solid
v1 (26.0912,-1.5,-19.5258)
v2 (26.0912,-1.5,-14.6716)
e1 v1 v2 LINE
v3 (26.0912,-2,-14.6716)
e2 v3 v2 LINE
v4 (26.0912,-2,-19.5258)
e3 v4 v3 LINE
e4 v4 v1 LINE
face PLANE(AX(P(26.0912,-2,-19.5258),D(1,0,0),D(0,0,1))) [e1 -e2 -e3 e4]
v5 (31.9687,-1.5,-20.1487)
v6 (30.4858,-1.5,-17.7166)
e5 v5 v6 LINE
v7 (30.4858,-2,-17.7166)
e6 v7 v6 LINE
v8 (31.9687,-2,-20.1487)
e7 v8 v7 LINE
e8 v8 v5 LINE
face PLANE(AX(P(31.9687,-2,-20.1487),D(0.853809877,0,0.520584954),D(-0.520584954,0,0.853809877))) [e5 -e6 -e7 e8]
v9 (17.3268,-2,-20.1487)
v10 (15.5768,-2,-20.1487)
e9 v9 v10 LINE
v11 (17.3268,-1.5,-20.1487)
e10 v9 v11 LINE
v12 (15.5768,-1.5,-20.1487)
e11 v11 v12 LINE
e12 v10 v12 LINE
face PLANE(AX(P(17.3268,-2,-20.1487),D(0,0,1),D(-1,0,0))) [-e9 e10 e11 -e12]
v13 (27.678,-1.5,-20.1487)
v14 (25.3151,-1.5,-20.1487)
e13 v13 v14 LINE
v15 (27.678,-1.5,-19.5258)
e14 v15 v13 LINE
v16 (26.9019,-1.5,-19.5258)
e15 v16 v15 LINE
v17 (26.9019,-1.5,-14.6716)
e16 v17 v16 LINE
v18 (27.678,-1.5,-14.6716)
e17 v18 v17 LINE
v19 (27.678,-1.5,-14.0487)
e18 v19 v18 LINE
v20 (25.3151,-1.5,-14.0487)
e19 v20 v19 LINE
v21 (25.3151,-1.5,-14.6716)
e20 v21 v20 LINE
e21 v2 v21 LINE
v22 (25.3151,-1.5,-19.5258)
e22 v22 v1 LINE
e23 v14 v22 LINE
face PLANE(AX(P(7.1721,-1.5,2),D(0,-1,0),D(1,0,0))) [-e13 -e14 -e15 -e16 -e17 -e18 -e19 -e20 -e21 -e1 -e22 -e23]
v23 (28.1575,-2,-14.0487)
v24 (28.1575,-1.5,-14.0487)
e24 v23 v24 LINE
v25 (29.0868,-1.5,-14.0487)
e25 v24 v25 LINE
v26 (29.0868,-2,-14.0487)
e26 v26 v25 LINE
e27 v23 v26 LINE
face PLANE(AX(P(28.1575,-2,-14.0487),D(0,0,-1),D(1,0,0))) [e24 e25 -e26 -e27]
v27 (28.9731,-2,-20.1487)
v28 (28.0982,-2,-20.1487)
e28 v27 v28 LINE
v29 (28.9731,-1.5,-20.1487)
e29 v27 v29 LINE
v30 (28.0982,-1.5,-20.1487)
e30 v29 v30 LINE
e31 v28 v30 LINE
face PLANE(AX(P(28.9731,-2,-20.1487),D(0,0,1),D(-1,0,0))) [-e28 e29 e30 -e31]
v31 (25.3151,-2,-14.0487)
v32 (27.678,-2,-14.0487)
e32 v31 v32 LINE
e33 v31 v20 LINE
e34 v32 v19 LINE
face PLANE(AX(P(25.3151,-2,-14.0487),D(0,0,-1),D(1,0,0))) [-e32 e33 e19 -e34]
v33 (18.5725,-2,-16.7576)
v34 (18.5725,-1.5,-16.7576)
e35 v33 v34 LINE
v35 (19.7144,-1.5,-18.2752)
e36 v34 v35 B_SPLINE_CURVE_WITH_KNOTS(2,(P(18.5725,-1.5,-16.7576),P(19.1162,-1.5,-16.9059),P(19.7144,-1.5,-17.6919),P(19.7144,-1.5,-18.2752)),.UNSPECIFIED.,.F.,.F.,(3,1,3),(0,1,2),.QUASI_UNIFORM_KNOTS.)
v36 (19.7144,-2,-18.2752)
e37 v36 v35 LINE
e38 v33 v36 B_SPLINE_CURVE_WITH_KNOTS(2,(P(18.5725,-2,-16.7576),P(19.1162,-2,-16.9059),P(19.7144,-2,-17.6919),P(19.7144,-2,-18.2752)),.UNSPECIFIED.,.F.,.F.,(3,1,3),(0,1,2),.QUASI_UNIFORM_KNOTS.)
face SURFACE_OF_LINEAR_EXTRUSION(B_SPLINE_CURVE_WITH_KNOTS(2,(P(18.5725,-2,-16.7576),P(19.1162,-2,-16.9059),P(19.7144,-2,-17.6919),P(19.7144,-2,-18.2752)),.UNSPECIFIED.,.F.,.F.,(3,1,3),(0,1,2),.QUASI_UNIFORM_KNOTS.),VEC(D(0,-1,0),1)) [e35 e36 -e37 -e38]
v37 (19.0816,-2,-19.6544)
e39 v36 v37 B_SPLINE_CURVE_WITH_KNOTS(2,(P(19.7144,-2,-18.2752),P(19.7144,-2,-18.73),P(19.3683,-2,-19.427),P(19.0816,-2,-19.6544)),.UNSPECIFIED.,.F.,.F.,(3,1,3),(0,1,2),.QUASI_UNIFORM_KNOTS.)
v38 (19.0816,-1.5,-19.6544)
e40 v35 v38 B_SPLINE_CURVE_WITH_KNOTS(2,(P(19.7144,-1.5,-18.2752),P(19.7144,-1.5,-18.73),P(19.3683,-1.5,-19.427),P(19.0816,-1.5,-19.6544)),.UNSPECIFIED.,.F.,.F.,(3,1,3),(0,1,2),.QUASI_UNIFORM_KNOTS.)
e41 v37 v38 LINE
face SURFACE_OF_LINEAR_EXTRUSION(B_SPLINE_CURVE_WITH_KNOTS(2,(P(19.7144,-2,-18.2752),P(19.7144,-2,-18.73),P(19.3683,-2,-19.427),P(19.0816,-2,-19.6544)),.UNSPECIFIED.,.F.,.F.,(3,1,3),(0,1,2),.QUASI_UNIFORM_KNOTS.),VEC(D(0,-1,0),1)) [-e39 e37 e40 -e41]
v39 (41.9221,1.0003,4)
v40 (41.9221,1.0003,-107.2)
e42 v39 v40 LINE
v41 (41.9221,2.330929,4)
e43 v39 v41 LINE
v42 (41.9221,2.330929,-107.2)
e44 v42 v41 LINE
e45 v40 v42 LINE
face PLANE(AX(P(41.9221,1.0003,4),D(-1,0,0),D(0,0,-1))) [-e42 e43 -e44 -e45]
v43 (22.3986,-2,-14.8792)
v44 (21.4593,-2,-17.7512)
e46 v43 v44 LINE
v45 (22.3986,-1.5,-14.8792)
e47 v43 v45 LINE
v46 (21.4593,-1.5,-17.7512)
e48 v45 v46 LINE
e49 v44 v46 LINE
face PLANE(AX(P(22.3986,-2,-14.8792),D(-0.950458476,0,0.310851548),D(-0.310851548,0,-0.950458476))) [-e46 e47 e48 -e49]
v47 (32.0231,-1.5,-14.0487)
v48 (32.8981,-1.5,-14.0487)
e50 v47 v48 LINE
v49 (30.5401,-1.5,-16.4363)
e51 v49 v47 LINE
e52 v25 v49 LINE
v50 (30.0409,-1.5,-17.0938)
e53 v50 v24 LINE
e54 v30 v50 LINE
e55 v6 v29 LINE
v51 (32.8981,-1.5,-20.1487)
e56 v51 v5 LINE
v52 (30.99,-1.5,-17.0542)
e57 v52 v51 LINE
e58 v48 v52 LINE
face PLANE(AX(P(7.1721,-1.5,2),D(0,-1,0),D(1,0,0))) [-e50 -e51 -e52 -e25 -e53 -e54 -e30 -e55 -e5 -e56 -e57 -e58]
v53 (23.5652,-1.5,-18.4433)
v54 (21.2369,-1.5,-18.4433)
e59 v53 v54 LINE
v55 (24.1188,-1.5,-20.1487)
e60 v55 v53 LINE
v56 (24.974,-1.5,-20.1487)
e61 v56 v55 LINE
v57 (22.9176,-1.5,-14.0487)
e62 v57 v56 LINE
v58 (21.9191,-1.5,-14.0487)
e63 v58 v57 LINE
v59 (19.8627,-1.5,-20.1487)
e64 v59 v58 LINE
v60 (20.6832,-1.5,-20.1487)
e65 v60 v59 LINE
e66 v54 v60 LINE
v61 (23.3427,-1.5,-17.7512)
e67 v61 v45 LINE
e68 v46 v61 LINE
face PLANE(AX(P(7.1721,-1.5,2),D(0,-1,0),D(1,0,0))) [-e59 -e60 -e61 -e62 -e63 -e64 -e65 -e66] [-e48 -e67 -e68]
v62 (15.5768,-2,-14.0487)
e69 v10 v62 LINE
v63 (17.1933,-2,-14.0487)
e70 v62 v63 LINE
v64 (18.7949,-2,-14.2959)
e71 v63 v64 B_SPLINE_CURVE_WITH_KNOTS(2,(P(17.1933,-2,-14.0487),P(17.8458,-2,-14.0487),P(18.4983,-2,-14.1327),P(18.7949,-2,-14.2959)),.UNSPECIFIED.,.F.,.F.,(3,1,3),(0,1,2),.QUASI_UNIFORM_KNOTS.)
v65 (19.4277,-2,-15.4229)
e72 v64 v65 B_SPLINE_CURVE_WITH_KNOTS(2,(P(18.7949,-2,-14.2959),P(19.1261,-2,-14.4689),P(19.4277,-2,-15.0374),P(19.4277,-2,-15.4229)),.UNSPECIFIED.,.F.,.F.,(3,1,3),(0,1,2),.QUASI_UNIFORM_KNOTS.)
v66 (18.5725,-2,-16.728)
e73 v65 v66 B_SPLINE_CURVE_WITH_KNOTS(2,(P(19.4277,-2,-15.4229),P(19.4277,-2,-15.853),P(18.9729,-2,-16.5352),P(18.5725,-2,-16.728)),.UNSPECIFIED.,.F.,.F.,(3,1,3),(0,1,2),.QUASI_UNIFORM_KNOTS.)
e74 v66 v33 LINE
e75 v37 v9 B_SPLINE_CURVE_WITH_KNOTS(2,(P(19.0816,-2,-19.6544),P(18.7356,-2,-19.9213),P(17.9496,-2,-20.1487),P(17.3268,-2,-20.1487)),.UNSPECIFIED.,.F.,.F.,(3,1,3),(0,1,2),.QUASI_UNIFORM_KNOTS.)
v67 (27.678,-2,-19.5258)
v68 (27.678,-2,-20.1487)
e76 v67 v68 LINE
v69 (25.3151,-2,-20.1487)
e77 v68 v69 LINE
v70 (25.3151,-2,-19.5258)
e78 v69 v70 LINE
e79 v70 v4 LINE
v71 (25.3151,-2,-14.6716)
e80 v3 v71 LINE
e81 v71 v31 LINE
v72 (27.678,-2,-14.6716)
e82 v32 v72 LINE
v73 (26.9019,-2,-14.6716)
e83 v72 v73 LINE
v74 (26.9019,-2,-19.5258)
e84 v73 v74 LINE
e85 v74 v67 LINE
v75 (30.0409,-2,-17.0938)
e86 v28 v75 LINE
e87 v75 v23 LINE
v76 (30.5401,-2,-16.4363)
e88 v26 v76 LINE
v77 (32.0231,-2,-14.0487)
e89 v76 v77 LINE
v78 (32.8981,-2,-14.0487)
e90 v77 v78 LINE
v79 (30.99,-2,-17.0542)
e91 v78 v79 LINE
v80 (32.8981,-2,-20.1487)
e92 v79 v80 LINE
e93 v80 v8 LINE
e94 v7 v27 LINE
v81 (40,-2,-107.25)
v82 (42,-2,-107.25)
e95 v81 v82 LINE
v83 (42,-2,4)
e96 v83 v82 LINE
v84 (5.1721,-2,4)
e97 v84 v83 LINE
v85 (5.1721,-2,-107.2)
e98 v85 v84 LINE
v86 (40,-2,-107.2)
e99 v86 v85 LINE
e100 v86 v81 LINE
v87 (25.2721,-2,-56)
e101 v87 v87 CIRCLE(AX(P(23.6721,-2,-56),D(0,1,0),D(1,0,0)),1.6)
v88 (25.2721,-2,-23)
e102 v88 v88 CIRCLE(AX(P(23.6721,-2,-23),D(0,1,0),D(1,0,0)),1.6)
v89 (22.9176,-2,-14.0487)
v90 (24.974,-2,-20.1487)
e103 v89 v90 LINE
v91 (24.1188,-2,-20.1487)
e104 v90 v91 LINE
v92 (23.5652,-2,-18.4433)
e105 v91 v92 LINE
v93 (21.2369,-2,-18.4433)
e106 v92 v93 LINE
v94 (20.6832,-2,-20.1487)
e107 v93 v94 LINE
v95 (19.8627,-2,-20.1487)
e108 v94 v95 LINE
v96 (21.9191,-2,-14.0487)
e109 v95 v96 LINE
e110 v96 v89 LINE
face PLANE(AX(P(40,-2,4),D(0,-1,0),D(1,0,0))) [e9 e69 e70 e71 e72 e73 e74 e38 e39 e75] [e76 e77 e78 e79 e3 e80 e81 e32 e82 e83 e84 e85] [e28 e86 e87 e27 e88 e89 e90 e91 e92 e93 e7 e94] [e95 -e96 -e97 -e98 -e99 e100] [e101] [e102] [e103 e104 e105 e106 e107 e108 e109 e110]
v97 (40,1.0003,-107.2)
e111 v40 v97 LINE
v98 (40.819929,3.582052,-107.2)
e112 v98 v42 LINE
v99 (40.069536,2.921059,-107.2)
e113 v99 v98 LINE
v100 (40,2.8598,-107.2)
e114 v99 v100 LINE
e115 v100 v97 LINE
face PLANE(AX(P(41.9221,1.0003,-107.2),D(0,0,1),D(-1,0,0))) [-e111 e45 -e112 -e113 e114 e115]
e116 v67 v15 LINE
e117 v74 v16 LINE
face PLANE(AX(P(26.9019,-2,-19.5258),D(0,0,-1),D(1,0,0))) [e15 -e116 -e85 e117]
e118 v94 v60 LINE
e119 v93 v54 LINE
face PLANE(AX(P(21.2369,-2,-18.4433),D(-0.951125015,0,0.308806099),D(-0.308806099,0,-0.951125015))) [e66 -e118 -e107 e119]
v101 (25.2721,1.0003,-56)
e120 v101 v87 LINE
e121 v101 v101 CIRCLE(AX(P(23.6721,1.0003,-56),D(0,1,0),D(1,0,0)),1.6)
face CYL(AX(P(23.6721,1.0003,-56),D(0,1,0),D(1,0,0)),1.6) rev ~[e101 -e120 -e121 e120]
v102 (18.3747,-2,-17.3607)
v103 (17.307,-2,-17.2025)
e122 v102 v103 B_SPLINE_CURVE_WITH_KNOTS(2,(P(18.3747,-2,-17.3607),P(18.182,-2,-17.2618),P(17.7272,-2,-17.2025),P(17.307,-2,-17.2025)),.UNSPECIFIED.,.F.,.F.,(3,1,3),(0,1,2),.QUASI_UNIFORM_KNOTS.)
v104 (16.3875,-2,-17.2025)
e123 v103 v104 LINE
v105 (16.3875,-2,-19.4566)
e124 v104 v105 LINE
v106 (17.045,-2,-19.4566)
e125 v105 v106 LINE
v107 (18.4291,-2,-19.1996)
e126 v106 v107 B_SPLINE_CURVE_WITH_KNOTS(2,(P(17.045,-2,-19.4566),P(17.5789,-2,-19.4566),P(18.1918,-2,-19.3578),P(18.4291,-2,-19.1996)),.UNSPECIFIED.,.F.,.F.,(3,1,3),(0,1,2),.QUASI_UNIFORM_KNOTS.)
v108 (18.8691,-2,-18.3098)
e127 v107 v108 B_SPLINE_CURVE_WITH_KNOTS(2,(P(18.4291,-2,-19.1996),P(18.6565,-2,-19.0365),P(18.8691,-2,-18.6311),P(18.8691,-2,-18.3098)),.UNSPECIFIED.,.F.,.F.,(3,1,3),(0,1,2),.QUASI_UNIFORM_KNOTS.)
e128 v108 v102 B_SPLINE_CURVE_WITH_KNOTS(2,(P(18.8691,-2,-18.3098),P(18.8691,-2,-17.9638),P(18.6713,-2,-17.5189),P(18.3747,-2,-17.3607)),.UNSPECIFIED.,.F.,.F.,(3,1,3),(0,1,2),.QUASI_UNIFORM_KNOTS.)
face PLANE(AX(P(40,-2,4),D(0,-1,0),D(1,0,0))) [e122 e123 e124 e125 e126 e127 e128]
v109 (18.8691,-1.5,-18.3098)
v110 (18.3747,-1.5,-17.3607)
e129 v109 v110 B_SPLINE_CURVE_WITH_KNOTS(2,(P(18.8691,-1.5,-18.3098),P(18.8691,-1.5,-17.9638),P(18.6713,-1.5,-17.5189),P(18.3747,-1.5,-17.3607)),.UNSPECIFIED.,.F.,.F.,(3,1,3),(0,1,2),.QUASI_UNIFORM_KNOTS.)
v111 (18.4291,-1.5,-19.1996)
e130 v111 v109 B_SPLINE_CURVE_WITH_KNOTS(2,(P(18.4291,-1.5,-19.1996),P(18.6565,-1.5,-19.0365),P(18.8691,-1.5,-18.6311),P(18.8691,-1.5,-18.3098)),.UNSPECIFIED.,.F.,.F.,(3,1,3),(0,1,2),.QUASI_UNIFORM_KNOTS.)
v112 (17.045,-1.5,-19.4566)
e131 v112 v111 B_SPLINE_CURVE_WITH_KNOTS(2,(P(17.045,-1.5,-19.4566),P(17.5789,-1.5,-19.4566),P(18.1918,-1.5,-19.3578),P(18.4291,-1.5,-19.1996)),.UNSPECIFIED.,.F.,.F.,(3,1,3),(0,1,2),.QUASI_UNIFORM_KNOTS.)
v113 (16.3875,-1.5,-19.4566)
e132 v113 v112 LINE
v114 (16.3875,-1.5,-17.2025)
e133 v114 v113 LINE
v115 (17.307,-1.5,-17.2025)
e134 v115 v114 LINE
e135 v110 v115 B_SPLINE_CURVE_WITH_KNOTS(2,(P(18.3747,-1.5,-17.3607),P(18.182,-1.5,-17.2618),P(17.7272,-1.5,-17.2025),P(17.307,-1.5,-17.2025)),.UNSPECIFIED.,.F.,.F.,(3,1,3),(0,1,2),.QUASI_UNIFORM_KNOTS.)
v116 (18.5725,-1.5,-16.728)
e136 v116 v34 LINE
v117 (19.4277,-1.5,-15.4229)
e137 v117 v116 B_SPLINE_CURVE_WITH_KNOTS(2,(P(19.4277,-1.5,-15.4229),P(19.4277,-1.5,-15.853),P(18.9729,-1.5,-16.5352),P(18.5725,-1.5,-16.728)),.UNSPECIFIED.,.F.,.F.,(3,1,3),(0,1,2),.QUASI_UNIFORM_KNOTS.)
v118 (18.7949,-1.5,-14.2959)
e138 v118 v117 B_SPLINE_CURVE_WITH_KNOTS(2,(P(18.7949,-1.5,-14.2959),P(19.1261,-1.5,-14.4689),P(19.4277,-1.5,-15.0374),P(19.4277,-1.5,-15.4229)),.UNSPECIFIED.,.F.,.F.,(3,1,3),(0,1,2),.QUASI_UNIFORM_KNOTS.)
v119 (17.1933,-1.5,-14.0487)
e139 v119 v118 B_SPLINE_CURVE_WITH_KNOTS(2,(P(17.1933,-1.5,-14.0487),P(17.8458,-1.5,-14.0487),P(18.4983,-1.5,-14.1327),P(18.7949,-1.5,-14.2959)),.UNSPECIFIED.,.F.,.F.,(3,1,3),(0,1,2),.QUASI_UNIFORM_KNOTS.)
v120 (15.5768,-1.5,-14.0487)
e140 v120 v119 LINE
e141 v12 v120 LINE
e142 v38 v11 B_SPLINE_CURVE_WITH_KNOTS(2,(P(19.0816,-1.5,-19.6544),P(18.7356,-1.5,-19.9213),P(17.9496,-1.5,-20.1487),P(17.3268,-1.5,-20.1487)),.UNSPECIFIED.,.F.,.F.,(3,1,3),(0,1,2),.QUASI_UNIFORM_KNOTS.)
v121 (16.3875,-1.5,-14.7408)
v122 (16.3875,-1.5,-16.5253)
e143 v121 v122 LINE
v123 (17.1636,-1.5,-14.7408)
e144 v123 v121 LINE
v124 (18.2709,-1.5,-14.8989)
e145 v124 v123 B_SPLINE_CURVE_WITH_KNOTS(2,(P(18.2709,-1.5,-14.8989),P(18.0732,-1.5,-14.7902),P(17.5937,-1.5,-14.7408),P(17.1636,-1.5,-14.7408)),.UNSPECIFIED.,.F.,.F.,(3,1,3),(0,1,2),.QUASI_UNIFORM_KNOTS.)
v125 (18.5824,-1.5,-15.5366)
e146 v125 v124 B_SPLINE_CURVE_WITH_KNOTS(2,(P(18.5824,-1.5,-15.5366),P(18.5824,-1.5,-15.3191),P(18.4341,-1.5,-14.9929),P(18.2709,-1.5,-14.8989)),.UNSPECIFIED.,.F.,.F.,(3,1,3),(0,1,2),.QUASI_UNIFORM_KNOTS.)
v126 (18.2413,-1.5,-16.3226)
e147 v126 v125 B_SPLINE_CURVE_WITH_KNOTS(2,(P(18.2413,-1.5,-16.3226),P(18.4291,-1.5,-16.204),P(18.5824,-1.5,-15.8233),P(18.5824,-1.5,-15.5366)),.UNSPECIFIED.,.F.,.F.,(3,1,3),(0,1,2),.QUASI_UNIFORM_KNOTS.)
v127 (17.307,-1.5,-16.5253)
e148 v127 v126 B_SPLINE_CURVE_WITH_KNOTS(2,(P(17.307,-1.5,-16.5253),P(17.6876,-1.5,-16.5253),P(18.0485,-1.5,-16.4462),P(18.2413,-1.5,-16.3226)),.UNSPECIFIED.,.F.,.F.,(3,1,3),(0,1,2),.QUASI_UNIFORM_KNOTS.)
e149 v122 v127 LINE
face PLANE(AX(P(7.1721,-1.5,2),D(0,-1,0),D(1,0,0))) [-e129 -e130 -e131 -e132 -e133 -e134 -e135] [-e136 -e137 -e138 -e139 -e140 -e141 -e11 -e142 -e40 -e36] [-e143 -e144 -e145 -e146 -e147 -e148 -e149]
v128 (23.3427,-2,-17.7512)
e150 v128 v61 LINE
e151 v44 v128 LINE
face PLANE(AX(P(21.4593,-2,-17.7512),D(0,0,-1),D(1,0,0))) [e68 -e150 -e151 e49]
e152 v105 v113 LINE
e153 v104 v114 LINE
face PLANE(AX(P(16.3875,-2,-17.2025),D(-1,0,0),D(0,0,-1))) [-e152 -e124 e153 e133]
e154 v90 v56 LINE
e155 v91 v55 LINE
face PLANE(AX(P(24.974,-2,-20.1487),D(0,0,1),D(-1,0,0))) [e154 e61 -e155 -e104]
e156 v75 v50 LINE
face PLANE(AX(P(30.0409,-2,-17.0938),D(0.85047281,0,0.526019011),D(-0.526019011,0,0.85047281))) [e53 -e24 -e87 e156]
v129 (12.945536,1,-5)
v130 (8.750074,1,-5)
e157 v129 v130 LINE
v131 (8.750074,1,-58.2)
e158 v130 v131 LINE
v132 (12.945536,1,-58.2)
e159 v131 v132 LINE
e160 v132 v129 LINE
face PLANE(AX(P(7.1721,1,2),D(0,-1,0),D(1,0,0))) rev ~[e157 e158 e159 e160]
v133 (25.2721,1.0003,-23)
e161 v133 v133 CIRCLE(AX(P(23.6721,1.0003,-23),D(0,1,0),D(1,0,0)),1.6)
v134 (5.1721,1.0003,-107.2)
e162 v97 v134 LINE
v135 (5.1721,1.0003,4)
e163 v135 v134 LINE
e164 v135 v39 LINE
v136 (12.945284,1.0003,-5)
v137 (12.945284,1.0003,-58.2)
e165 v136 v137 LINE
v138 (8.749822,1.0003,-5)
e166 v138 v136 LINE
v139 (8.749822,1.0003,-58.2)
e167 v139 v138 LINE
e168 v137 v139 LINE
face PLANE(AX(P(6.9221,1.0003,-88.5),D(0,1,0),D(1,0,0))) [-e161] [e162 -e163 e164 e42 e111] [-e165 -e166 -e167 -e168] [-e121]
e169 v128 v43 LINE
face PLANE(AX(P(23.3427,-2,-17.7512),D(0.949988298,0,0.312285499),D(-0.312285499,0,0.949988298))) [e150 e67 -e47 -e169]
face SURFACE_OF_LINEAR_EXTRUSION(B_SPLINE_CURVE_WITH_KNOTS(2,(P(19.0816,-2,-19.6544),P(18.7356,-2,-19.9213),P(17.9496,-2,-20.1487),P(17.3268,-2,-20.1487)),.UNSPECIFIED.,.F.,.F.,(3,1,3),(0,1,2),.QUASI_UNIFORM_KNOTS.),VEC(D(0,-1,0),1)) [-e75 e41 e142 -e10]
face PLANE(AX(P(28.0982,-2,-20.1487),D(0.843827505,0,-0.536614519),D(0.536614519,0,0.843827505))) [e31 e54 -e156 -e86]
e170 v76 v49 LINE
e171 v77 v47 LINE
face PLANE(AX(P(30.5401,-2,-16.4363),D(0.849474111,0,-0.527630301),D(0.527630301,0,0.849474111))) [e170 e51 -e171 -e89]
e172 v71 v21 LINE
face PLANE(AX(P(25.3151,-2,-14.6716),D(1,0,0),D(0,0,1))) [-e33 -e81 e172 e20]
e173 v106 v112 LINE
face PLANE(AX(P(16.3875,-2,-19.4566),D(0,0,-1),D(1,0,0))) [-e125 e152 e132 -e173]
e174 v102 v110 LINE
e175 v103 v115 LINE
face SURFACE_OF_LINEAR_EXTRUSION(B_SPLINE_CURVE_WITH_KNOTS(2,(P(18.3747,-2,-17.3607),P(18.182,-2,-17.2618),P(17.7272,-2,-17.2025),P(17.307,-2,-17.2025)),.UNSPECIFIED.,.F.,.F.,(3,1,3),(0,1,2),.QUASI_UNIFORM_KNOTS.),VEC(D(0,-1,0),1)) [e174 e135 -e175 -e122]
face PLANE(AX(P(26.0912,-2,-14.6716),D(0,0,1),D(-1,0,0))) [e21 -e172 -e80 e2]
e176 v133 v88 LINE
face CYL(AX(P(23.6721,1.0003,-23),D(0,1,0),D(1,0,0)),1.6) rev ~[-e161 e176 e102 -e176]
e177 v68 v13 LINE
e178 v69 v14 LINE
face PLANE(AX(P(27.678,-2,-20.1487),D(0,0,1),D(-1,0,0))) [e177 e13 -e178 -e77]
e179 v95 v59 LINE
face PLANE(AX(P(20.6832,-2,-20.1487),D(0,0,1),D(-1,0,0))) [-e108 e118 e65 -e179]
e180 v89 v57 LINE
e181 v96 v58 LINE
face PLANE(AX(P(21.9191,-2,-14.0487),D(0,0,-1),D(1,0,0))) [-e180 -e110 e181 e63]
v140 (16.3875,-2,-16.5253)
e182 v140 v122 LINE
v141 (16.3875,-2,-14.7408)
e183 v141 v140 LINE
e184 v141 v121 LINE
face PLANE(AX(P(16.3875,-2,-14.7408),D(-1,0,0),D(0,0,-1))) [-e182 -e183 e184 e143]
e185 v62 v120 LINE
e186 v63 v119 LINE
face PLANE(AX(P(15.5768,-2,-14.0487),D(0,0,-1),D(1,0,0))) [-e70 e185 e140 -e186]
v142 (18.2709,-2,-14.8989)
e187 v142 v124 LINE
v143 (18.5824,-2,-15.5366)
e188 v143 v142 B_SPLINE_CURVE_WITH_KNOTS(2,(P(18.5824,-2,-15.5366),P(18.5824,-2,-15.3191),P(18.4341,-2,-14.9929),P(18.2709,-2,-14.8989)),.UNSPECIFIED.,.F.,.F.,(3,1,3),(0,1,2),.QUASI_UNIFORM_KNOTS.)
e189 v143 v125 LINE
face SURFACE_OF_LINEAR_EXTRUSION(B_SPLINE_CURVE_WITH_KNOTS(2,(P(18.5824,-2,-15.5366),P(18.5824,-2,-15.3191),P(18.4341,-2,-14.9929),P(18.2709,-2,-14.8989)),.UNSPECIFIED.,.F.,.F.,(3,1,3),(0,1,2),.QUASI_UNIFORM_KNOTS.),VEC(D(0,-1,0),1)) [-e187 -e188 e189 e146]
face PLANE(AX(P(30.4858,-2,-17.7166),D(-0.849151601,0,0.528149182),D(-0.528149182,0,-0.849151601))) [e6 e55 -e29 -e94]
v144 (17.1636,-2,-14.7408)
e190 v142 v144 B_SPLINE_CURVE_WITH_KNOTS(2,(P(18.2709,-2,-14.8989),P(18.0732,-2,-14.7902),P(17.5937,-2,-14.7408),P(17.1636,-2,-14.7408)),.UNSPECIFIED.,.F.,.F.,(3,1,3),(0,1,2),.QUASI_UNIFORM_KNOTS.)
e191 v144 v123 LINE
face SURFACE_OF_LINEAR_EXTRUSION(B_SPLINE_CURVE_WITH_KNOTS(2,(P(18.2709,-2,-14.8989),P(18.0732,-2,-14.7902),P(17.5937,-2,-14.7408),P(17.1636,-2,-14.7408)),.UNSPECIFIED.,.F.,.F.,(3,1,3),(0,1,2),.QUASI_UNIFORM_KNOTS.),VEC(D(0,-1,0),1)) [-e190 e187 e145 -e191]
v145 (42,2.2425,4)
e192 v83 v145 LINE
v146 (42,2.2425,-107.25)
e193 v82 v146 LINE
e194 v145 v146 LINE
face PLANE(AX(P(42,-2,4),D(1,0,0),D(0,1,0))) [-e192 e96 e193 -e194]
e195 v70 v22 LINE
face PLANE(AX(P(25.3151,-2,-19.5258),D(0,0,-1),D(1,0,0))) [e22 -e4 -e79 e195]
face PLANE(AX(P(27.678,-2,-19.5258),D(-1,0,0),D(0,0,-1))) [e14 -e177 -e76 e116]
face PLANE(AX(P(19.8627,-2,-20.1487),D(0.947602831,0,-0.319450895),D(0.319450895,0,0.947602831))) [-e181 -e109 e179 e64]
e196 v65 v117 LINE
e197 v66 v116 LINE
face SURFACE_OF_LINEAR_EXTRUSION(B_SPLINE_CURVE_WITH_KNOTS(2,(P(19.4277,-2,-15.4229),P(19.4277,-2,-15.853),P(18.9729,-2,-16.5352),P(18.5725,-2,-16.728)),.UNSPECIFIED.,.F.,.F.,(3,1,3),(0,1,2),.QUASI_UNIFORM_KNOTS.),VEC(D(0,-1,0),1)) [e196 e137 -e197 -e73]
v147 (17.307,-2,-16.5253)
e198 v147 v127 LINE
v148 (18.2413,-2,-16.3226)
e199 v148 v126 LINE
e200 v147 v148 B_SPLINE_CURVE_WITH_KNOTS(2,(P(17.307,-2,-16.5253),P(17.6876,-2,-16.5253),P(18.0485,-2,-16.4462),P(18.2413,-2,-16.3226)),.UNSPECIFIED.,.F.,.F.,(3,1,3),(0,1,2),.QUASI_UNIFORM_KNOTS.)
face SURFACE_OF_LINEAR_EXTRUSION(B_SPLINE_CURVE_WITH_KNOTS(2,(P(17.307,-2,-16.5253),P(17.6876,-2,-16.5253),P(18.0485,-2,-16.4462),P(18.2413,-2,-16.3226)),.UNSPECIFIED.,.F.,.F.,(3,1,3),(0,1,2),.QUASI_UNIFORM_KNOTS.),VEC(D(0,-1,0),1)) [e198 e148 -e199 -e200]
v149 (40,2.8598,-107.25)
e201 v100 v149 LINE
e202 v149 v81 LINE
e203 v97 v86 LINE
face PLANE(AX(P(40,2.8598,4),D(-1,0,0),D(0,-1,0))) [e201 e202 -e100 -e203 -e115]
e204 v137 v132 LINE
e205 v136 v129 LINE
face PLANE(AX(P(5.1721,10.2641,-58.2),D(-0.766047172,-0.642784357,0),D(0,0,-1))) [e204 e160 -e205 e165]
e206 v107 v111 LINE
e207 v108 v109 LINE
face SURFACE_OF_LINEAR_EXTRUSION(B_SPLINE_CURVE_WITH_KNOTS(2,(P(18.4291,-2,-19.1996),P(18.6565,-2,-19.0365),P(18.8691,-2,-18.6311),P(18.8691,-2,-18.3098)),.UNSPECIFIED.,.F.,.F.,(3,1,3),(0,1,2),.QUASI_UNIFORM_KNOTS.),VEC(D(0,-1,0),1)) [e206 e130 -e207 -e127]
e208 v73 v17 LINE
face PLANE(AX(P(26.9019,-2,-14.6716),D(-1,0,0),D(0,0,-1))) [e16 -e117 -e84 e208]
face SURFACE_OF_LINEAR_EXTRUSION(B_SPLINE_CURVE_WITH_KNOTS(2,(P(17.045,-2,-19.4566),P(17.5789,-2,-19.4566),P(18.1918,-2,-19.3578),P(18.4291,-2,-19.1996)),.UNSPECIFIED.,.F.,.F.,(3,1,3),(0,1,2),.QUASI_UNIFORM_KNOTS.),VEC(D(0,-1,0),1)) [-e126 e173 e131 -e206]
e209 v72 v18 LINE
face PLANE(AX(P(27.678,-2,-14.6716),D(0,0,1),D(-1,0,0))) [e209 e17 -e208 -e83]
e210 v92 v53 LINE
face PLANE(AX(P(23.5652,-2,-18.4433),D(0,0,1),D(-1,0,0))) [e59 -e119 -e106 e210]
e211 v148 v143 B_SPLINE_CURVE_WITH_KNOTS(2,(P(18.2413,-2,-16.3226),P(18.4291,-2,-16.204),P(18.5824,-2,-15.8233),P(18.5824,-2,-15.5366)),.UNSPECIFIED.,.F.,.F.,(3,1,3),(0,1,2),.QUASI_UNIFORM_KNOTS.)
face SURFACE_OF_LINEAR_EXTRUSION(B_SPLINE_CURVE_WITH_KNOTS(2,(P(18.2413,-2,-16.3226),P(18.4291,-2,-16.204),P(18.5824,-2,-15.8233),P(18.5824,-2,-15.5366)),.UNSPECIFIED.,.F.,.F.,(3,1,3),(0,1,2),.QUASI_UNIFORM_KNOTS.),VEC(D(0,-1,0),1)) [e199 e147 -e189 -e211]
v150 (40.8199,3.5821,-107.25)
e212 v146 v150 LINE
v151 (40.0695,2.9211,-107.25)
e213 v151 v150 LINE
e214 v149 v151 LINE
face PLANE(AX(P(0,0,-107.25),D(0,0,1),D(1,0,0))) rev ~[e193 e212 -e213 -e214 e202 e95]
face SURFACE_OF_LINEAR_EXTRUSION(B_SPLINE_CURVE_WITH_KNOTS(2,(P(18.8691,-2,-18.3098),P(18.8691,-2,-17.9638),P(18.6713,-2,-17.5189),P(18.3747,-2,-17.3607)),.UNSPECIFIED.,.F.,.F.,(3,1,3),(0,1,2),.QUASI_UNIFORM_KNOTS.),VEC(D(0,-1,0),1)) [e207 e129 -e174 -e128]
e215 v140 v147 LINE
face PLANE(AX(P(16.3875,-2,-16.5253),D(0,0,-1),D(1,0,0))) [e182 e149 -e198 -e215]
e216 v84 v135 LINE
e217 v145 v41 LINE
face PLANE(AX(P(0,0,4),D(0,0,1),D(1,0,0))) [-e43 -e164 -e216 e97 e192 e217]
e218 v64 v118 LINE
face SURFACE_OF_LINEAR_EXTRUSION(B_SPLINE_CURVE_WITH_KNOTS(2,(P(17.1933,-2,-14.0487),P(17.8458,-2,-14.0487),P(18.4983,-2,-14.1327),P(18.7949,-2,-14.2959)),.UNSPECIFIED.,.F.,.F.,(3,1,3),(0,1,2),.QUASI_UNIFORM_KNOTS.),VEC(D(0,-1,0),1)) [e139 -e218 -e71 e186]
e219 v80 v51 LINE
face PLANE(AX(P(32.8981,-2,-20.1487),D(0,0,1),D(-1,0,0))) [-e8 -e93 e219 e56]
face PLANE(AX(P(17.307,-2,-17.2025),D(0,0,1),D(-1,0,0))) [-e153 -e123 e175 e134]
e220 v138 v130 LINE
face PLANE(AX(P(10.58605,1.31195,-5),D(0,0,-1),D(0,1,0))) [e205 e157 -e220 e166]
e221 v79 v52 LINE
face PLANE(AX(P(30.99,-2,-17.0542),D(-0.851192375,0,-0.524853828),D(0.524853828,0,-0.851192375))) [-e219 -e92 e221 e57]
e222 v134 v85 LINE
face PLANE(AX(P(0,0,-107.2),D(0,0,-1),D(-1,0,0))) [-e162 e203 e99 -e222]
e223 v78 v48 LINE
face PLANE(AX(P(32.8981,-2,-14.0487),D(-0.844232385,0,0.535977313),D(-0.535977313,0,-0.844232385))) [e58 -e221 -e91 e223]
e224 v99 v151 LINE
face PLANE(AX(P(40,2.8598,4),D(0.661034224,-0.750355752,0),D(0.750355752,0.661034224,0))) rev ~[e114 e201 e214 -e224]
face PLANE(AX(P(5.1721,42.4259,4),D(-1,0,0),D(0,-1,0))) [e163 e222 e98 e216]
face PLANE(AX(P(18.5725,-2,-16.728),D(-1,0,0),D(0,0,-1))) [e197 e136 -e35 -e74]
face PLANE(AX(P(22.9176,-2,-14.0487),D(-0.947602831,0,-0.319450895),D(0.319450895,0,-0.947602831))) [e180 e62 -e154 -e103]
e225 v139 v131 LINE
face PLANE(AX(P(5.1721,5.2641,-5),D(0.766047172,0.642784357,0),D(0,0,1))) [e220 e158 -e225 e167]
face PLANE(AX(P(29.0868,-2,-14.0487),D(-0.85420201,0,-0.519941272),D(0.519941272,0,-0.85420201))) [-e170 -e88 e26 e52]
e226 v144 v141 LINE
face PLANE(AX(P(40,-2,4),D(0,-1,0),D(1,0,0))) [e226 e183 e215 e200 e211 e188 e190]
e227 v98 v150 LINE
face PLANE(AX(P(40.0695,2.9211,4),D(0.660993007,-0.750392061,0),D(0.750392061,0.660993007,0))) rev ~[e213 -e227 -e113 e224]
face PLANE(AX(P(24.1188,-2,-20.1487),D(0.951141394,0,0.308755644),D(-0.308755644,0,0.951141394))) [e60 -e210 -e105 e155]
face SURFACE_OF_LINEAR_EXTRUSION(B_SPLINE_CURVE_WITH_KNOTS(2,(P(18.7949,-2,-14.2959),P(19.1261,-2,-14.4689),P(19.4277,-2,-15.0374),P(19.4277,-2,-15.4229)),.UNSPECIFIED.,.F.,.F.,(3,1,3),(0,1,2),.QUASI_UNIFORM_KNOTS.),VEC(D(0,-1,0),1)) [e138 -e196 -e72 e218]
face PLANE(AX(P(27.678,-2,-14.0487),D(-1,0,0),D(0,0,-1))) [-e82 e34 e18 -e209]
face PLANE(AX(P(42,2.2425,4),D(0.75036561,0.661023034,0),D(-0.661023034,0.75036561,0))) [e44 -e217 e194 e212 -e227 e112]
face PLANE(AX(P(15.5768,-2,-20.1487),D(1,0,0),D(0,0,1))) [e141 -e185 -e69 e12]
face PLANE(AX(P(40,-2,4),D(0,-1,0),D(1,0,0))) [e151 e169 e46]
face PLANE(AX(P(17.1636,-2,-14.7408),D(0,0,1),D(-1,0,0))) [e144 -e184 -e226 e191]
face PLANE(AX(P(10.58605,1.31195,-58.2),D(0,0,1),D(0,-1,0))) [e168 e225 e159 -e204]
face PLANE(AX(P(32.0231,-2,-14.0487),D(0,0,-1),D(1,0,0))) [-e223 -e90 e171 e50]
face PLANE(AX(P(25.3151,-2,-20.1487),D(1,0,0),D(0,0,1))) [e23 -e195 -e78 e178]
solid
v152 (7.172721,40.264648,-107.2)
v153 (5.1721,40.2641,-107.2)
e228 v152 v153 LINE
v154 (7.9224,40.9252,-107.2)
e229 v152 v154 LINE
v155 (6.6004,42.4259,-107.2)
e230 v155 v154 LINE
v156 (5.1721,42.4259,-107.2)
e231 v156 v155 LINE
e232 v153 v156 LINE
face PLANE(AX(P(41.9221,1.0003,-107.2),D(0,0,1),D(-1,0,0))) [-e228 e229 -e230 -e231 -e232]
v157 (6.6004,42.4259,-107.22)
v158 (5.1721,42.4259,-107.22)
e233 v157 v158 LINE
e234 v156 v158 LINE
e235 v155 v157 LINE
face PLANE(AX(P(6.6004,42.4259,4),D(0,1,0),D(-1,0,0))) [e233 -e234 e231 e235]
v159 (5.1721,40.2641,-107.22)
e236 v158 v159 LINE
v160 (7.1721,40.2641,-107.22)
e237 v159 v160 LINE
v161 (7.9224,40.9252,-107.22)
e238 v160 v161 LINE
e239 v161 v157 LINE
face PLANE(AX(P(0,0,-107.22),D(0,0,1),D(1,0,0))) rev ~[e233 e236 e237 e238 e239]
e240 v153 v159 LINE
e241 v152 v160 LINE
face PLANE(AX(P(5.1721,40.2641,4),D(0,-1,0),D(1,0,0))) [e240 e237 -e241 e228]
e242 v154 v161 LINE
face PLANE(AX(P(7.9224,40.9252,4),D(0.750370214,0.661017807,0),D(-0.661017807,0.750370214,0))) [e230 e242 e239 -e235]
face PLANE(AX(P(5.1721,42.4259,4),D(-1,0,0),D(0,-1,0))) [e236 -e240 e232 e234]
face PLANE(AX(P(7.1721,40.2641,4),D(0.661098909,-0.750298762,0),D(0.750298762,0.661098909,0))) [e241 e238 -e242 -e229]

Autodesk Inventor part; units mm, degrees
ref_plane "YZ Plane" through (0, 0, 0) normal (1, 0, 0) x (0, 1, 0)
ref_plane "XZ Plane" through (0, 0, 0) normal (0, 1, 0) x (-1, 0, 0)
ref_plane "XY Plane" through (0, 0, 0) normal (0, 0, 1) x (1, 0, 0)
sketch "Boceto3" plane through (0, 0, 0) normal (0, 0, 1) x (1, 0, 0)
  line L0 (40, 0) -> (37, 0)
  line L1 (0, 0) -> (0, 45)
  line L2 (0, 45) -> (3, 45)
  line L3 (40, 0) -> (40, 3)
  line L4 (40, 3) -> (3, 45)
  line L5 (0, 0) -> (40, 0)
  dimension "d3" = 3
  dimension "d4" = 45
  dimension "d5" = 3
  dimension "d6" = 3
extrude "Extrusión1" add sketch "Boceto3" against normal blind 98.2
sketch "Boceto4" plane through (0, 0, 0) normal (0, 0, 1) x (1, 0, 0)
  line L0 (3.3154, 41.6201) -> (2, 43)
  line L1 (3.3154, 41.6201) -> (38, 2)
  line L2 (38, 2) -> (2, 2)
  line L3 (2, 2) -> (2, 43)
  point P0 (0, 45)
extrude "Extrusión2" cut sketch "Boceto4" against normal blind 210.55
sketch "Boceto6" plane through (0, 0, 0) normal (0, 0, 1) x (1, 0, 0)
  line L0 (1.0395, 0.9992) -> (39.0395, 0.9992)
  line L1 (39.0395, 1.0003) -> (39.0395, 1.9993) projected
  line L2 (39.0395, 0.9992) -> (39.0395, 1.9993)
  line L3 (39.0395, 1.9993) -> (3, 44.0003)
  line L4 (2.88, 44.0003) -> (1, 44.0003) projected
  line L5 (3, 44.0003) -> (1, 44.0003)
  line L6 (1, 1.0003) -> (39.0395, 1.0003) projected
  line L7 (1, 44.0003) -> (1, 1.0003)
  point P0 (0, 0)
extrude "Extrusión3" add sketch "Boceto6" against normal blind 2
sketch "Boceto7" plane through (0, 0, -98.2) normal (0, 0, -1) x (-1, 0, 0)
  line L0 (-1, 1.0003) -> (-39.0395, 1.0003) projected
  line L1 (-1, 1.0003) -> (-39.0395, 1.0003)
  line L2 (-39.0395, 1.0003) -> (-39.0395, 2)
  line L3 (-39.0395, 1.9993) -> (-2.88, 44.0003) projected
  line L4 (-39.0395, 2) -> (-2.88, 44.0003)
  line L5 (-2.88, 44.0003) -> (-1, 44.0003) projected
  line L6 (-1, 44.0003) -> (-1, 1.0003)
  line L7 (-2.88, 44.0003) -> (6.9067, 55.3678)
  line L8 (6.9067, 55.3678) -> (10.1689, 59.157)
  line L9 (10.1689, 59.157) -> (10.1689, 0)
  line L10 (10.1689, 0) -> (0, 0)
  dimension "d68" = 15
  dimension "d70" = 5
extrude "Extrusión4" add sketch "Boceto7" against normal blind 2
sketch "Boceto10" plane through (0, 0, -96.2) normal (0, 0, 1) x (1, 0, 0)
  line L0 (20.1691, 1.0003) -> (21.6691, 1.0003)
  line L1 (39.0395, 1.0003) -> (1, 1.0003) projected
  line L2 (21.6691, 1.0003) -> (21.6691, 22.1759)
  line L3 (2.88, 44.0003) -> (39.0395, 1.9993) projected
  line L4 (21.6691, 22.1759) -> (20.1691, 23.9182)
  line L5 (20.1691, 23.9182) -> (20.1691, 1.0003)
  point P0 (0, 0)
  dimension "d49" = 1.5
extrude "Extrusión7" add sketch "Boceto10" along normal blind 96
sketch "Boceto15" plane through (0, 0, -98.2) normal (0, 0, -1) x (-1, 0, 0)
  line L0 (-3, 45) -> (-40, 3) projected
  line L1 (-20.3927, 25.257) -> (-7.1721, 40.2641)
  line L2 (-7.1721, 40.2641) -> (-7.1721, 0)
  line L3 (-20.1691, 1.0003) -> (-1, 1.0003) projected
  line L4 (-7.1721, 40.2641) -> (-3, 45)
  line L5 (0, 45) -> (-3, 45)
  line L6 (0, 0) -> (0, 45) projected
  line L7 (0, 45) -> (0, 0)
  line L8 (0, 0) -> (-7.1721, 0)
  line L9 (-40, 0) -> (0, 0) projected
  dimension "d71" = 20
extrude "Extrusión9" cut sketch "Boceto15" against normal blind 617.4
sketch "Boceto16" plane through (0, 0, -96.2) normal (0, 0, 1) x (1, 0, 0)
  line L0 (7.1721, 1) -> (8.6721, 1.0003)
  line L1 (20.1691, 1.0003) -> (7.1721, 1.0003) projected
  line L2 (8.6721, 1.0003) -> (8.6721, 37.2725)
  line L3 (7.1721, 39.0149) -> (20.1691, 23.9182) projected
  line L4 (8.6721, 37.2725) -> (7.1721, 39.0149)
  line L5 (7.1721, 39.0149) -> (7.1721, 1)
  point P0 (0, 0)
  dimension "d74" = 1.5
extrude "Extrusión10" add sketch "Boceto16" along normal blind 95.4
sketch "Boceto17" plane through (0, 0, 0) normal (0, 0, 1) x (1, 0, 0)
  line L0 (20.1691, 1.0003) -> (8.6721, 1.0003) projected
  line L1 (8.6721, 35.5011) -> (8.6721, 2) projected
  line L2 (8.6721, 1.0003) -> (8.6721, 37.2725)
  line L3 (39.0395, 1.9993) -> (21.6691, 22.1759) projected
  line L4 (8.6721, 37.2725) -> (39.0395, 1.9993)
  line L5 (39.0395, 1.9993) -> (39.0395, 1.0003)
  line L6 (39.0395, 1.0003) -> (8.6721, 1.0003)
  line L7 (40, 0) -> (7.1721, 0) projected
  point P0 (0, 0)
extrude "Extrusión11" cut sketch "Boceto17" against normal blind 235.6
sketch "Boceto21" plane through (40, 3, 0) normal (0.7504, 0.661, 0) x (0, 0, -1)
  line L0 (5, 24.1901) -> (5, 36.1901)
  line L1 (5, 36.1901) -> (5, 12.1901)
  line L2 (76, 36.1901) -> (5, 36.1901)
  line L3 (85, 24.1901) -> (85, 18.1901)
  line L4 (85, 18.1901) -> (91, 18.1901)
  line L5 (91, 18.1901) -> (97, 18.1901)
  line L6 (97, 18.1901) -> (97, 30.1901)
  line L7 (97, 30.1901) -> (85, 30.1901)
  line L8 (85, 30.1901) -> (85, 24.1901)
  line L9 (76, 24.1901) -> (81, 24.1901)
  line L10 (81, 24.1901) -> (85, 24.1901)
  line L11 (76, 36.1901) -> (77, 36.1901)
  line L12 (77, 36.1901) -> (77, 12.1901)
  line L13 (77, 12.1901) -> (76, 12.1901)
  line L14 (77, 12.1901) -> (77, 11.1901)
  line L15 (77, 11.1901) -> (5, 11.1901)
  line L16 (5, 11.1901) -> (5, 12.1901)
  point P0 (0, 24.1901)
  dimension "d114" = 5
  dimension "d176" = 1
  dimension "d177" = 1
extrude "Extrusión13" cut sketch "Boceto21" against normal blind 1.5
sketch "Boceto22" plane through (0, 0, 0) normal (0, 0, 1) x (1, 0, 0)
  line L0 (8.6721, 1.0003) -> (39.0395, 1.0003) projected
  line L1 (8.6721, 1.0003) -> (39.0395, 1.0003)
  line L2 (39.0395, 1.0003) -> (39.0395, 2)
  line L3 (39.0395, 2) -> (8.6721, 37)
  line L4 (8.6721, 37.2725) -> (8.6721, 1.0003) projected
  line L5 (8.6721, 37) -> (8.6721, 1.0003)
  line L6 (7.1721, 0) -> (7.1721, 40.2641) projected
  line L7 (7.1721, 40.2641) -> (7.1721, 0)
  line L8 (40, 3) -> (40, 0) projected
  line L9 (7.1721, 0) -> (40, 0)
  line L10 (40, 0) -> (40, 3)
  line L11 (40, 3) -> (7.1721, 40.2641)
  line L12 (7.1721, 40.2641) -> (40, 3) projected
  point P0 (0, 0)
extrude "Extrusión14" add sketch "Boceto22" along normal blind 2
sketch "Boceto24" plane through (0, 0, 2) normal (0, 0, 1) x (1, 0, 0)
  line L0 (8.6721, 1.0003) -> (8.6721, 37) projected
  line L1 (39.0395, 1.0003) -> (8.6721, 1.0003) projected
  line L2 (8.6721, 1.0003) -> (39.0395, 1.0003)
  line L3 (39.0395, 1.0003) -> (39.0395, 2)
  line L4 (39.0395, 2) -> (8.6721, 37)
  line L5 (8.6721, 37) -> (8.6721, 1.0003)
  point P0 (0, 0)
extrude "Extrusión15" add sketch "Boceto24" against normal blind 2
sketch "Boceto25" plane through (0, 0, -98.2) normal (0, 0, -1) x (-1, 0, 0)
  line L0 (-8.6721, 1.0003) -> (-8.6721, 37.2725) projected
  line L1 (-8.6721, 1.0003) -> (-8.6721, 37.2725)
  line L2 (-8.6721, 37.2725) -> (-39, 2)
  line L3 (-39, 2) -> (-39, 1.0003)
  line L4 (-39, 1.0003) -> (-8.6721, 1.0003)
  line L5 (-7.1721, 0) -> (-40, 0) projected
  line L6 (-7.1721, 40) -> (-7.1721, 0)
  line L7 (-40, 0) -> (-7.1721, 0)
  line L8 (-40, 0) -> (-40, 2.8598)
  line L9 (-7.1721, 0) -> (-7.1721, 40.2641) projected
  line L10 (-40, 2.8598) -> (-7.1721, 40.2641)
  point P0 (0, 0)
extrude "Extrusión16" add sketch "Boceto25" along normal blind 7
sketch "Boceto27" plane through (0, 0, -105.2) normal (0, 0, -1) x (-1, 0, 0)
  line L0 (-8.6721, 1.0003) -> (-39.0395, 1.0003) projected
  line L1 (-8.6721, 1.0003) -> (-39.0395, 1.0003)
  line L2 (-39.0395, 1.0003) -> (-39.0395, 1.9993)
  line L3 (-8.6721, 1.0003) -> (-8.6721, 37.2725) projected
  line L4 (-39.0395, 1.9993) -> (-8.6721, 37.2725)
  line L5 (-8.6721, 37.2725) -> (-8.6721, 1.0003)
  point P0 (0, 0)
extrude "Extrusión17" add sketch "Boceto27" against normal blind 2
sketch "Boceto28" plane through (7.1721, 0, 2) normal (0, -1, 0) x (1, 0, 0)
  line L0 (0, 0) -> (0, -107.2) projected
  line L1 (32.8279, 0) -> (32.8279, -107.2) projected
  line L2 (0, 0) -> (32.8279, 0)
  line L3 (32.8279, 0) -> (32.8279, -107.2)
  line L4 (32.8279, -107.2) -> (0, -107.2)
  line L5 (0, -107.2) -> (0, 0)
  point P0 (-7.1721, -2)
extrude "Extrusión18" add sketch "Boceto28" along normal blind 2
sketch "Boceto29" plane through (7.1721, 40.2641, -98.2) normal (-1, 0, 0) x (0, 0, 1)
  line L0 (0, 0) -> (-7, 0) projected
  line L1 (100.2, -37.2641) -> (100.2, -42.2641) projected
  line L2 (-7, 0) -> (100.2, 0)
  line L3 (100.2, 0) -> (100.2, -42.2641)
  line L4 (100.2, -42.2641) -> (-7, -42.2641)
  line L5 (-7, -42.2641) -> (-7, 0)
  point P0 (98.2, -40.2641)
extrude "Extrusión19" add sketch "Boceto29" along normal blind 2
sketch "Boceto30" plane through (0, 0, -105.2) normal (0, 0, -1) x (-1, 0, 0)
  line L0 (-7.1721, 40.2641) -> (-5.1721, 40.2641)
  line L1 (-5.1721, 40.2641) -> (-5.1721, -2) projected
  line L2 (-5.1721, 40.2641) -> (-5.1721, -2)
  line L3 (-40, -2) -> (-5.1721, -2) projected
  line L4 (-5.1721, -2) -> (-40, -2)
  line L5 (-40, 2.8598) -> (-40, -2) projected
  line L6 (-40, -2) -> (-40, 2.8598)
  line L7 (-40, 2.8598) -> (-7.1721, 40.2641)
  line L8 (-7.1721, 40.2641) -> (-5.1721, 40.2641)
  point P0 (0, 0)
extrude "Extrusión20" add sketch "Boceto30" along normal blind 2
sketch "Boceto31" plane through (0, 0, 2) normal (0, 0, 1) x (1, 0, 0)
  line L0 (5.1721, -2) -> (5.1721, 40.2641) projected
  line L1 (5.1721, 40.2643) -> (5.1721, -2)
  line L2 (40, -2) -> (5.1721, -2) projected
  line L3 (5.1721, -2) -> (40, -2)
  line L4 (40, 2.8598) -> (40, -2) projected
  line L5 (40, -2) -> (40, 2.8598)
  line L6 (40, 2.8598) -> (7.1721, 40.2641) projected
  line L7 (7.1721, 40.2641) -> (40, 2.8598)
  line L8 (7.1721, 40.2641) -> (5.1721, 40.2641)
  point P0 (0, 0)
extrude "Extrusión21" add sketch "Boceto31" along normal blind 2
sketch "Boceto32" plane through (40, 3, 2) normal (0.7504, 0.661, 0) x (0, 0, -1)
  line L0 (-2, 49.6617) -> (-2, 0)
  line L1 (-2, 0) -> (109.2, 0)
  line L2 (109.2, -3.7518) -> (109.2, 19.2705) projected
  line L3 (100.2, -0.1052) -> (109.2, -0.1052) projected
  line L4 (109.2, 49.6617) -> (109.2, -0.1052)
  line L5 (109.2, 49.6617) -> (-2, 49.6617)
  line L6 (-2, 50.9838) -> (-2, 19.2705) projected
  line L7 (7, 11.1901) -> (7, 36.1901) projected
  line L8 (7, 36.1901) -> (7, 12.1901)
  line L9 (78, 36.1901) -> (7, 36.1901)
  line L10 (87, 30.1901) -> (99, 30.1901) projected
  line L11 (87, 18.1901) -> (87, 30.1901) projected
  line L12 (87, 30.1901) -> (87, 18.1901)
  line L13 (99, 30.1901) -> (99, 18.1901) projected
  line L14 (87, 18.1901) -> (99, 18.1901)
  line L15 (99, 18.1901) -> (99, 30.1901)
  line L16 (100.2, 49.6617) -> (109.2, 49.6617) projected
  line L17 (109.2, 49.6617) -> (109.2, -0.1052)
  line L18 (-2, -3.7518) -> (-2, -0.1052) projected
  line L19 (109.2, -0.1052) -> (-2, -0.1052)
  line L20 (-2, -0.1052) -> (-2, 49.6617)
  line L21 (109.2, 49.6617) -> (-2, 49.6617)
  line L22 (87, 30.1901) -> (99, 30.1901)
  line L23 (7, 12.1901) -> (7, 11.1901)
  line L24 (7, 11.1901) -> (79, 11.1901)
  line L25 (79, 11.1901) -> (79, 36.1901)
  line L26 (79, 36.1901) -> (78, 36.1901)
  point P0 (2, 24.1901)
  dimension "d174" = 1
  dimension "d175" = 72
extrude "Extrusión22" add sketch "Boceto32" along normal blind 1
sketch "Boceto33" plane through (40.7504, 3.661, 2) normal (0.7504, 0.661, 0) x (0, 0, -1)
  line L0 (87, 30.1901) -> (87, 18.1901) projected
  line L1 (87, 30.1901) -> (99, 30.1901) projected
  line L2 (87, 30.1901) -> (99, 30.1901)
  line L3 (99, 30.1901) -> (99, 18.1338)
  line L4 (100.2, -0.1052) -> (100.2, 49.6617) projected
  line L5 (99, 18.1338) -> (87, 18.1338)
  line L6 (87, 30.1901) -> (87, 34.1901)
  line L7 (87, 34.1901) -> (83, 34.1901)
  line L8 (99, 18.1901) -> (99, 14.1901)
  line L9 (99, 14.1901) -> (103, 14.1901)
  line L10 (83, 34.1901) -> (103, 34.1901)
  line L11 (103, 34.1901) -> (103, 14.1901)
  line L12 (103, 14.1901) -> (83, 14.1901)
  line L13 (83, 14.1901) -> (83, 34.1901)
  point P0 (2, 24.1901)
  dimension "d126" = 4
  dimension "d127" = 4
  dimension "d129" = 4
  dimension "d130" = 4
extrude "Extrusión23" add sketch "Boceto33" against normal blind 2.5
sketch "Boceto34" plane through (40.7504, 3.661, 2) normal (0.7504, 0.661, 0) x (0, 0, -1)
  line L0 (99, 18.1901) -> (99, 30.1901)
  line L1 (99, 18.1901) -> (87, 18.1901)
  line L2 (87, 18.1901) -> (87, 30.1901)
  line L3 (99, 30.1901) -> (99, 18.1901)
  line L4 (99, 30.1901) -> (99, 18.1901)
  line L5 (87, 18.1901) -> (99, 18.1901)
  line L6 (99, 30.1901) -> (99, 31.1901)
  line L7 (99, 31.1901) -> (87, 31.1901)
  line L8 (87, 31.1901) -> (87, 30.1901)
  point P0 (2, 24.1901)
  point P1 (83, 34.1901)
  dimension "d173" = 1
extrude "Extrusión24" cut sketch "Boceto34" against normal blind 6
sketch "Boceto35" plane through (40.0695, 2.9211, 4) normal (0, 0, 1) x (0.7504, 0.661, 0)
  line L0 (0, 49.7669) -> (1, 49.7669) projected
  line L1 (1, 49.7669) -> (0, 49.7669)
  line L2 (0, 49.7669) -> (0, 0)
  line L3 (0, 0) -> (1, 0) projected
  line L4 (0, 0) -> (1, 0)
  line L5 (1, 0) -> (1, 49.7669)
  point P0 (-31.9975, 24.2953)
extrude "Extrusión25" cut sketch "Boceto35" against normal blind 0.0001
sketch "Boceto36" plane through (0, 0, 4) normal (0, 0, 1) x (1, 0, 0)
  line L0 (5.1721, 40.2641) -> (7.1721, 40.2641) projected
  line L1 (7.1721, 40.2641) -> (40, 2.8598) projected
  line L2 (5.1721, 40.2641) -> (7.1721, 40.2641)
  line L3 (7.1721, 40.2641) -> (7.9224, 40.9252) projected
  line L4 (7.1721, 40.2641) -> (7.9224, 40.9252)
  line L5 (7.9224, 40.9252) -> (6.6004, 42.4259)
  line L6 (6.6004, 42.4259) -> (5.1721, 42.4259)
  line L7 (5.1721, -2) -> (5.1721, 40.2641) projected
  line L8 (5.1721, 42.4259) -> (5.1721, 40.2641)
  point P0 (0, 0)
  dimension "d140" = 2
extrude "Extrusión26" add sketch "Boceto36" against normal blind 111.22
sketch "Boceto37" plane through (0, 0, 4) normal (0, 0, 1) x (1, 0, 0)
  line L0 (40.0695, 2.9211) -> (7.1721, 40.2641) projected
  line L1 (40.0695, 2.9211) -> (39.9946, 2.8551)
  line L2 (39.9946, 2.8551) -> (7.1346, 40.2311)
  line L3 (7.1721, 40.2641) -> (7.9224, 40.9252) projected
  line L4 (7.1346, 40.2311) -> (7.9224, 40.9252)
  line L5 (7.9224, 40.9252) -> (40.0695, 2.9211)
  point P0 (0, 0)
extrude "Extrusión27" add sketch "Boceto37" against normal blind 2 contours L1 L2 L4 L0
sketch "Boceto38" plane through (0, 0, 4) normal (0, 0, 1) x (1, 0, 0)
  line L0 (40, 2.8598) -> (40, -2) projected
  line L1 (40, -2) -> (40, 2.8598)
  line L2 (40.0695, 2.9211) -> (40.8199, 3.5821) projected
  line L3 (40, 2.8598) -> (40.8199, 3.5821)
  line L4 (40, -2) -> (42, -2)
  line L5 (42, -2) -> (42, 2.2425)
  line L6 (42, 2.2425) -> (40.8199, 3.5821)
  point P0 (0, 0)
extrude "Extrusión28" add sketch "Boceto38" against normal blind 111.25
sketch "Boceto39" plane through (0, 0, -107.2) normal (0, 0, -1) x (-1, 0, 0)
  line L0 (-40.0695, 2.9211) -> (-40.8199, 3.5821) projected
  line L1 (-40.0695, 2.9211) -> (-40, 2.8598)
  line L2 (-40.0695, 2.9211) -> (-7.1721, 40.2641) projected
  line L3 (-40, 2.8598) -> (-7.1721, 40.2641)
  line L4 (-7.1721, 40.2641) -> (-40.0695, 2.9211)
  line L5 (-40.0695, 2.9211) -> (-40, 2.8598)
  point P0 (0, 0)
extrude "Extrusión29" add sketch "Boceto39" against normal blind 2
sketch "Boceto40" plane through (7.1721, -2, 2) normal (0, -1, 0) x (1, 0, 0)
  line L0 (7.7868, -16.0487) -> (16.7678, -16.0487) construction
  line L1 (16.7678, -16.0487) -> (16.7678, -19.0967) construction
  line L2 (16.7678, -19.0967) -> (7.7868, -19.0967) construction
  line L3 (7.7868, -19.0967) -> (7.7868, -16.0487) construction
  spline S0 degree 2 poles (12.5423, -20.2752) (12.5423, -20.73) (12.1962, -21.427) (11.9095, -21.6544) knots 0 0 0 1 2 2 2
  spline S1 degree 2 poles (11.9095, -21.6544) (11.5635, -21.9213) (10.7775, -22.1487) (10.1547, -22.1487) knots 0 0 0 1 2 2 2
  line L4 (10.1547, -22.1487) -> (8.4047, -22.1487)
  line L5 (8.4047, -22.1487) -> (8.4047, -16.0487)
  line L6 (8.4047, -16.0487) -> (10.0212, -16.0487)
  spline S2 degree 2 poles (10.0212, -16.0487) (10.6737, -16.0487) (11.3262, -16.1327) (11.6228, -16.2959) knots 0 0 0 1 2 2 2
  spline S3 degree 2 poles (11.6228, -16.2959) (11.954, -16.4689) (12.2556, -17.0374) (12.2556, -17.4229) knots 0 0 0 1 2 2 2
  spline S4 degree 2 poles (12.2556, -17.4229) (12.2556, -17.853) (11.8008, -18.5352) (11.4004, -18.728) knots 0 0 0 1 2 2 2
  line L7 (11.4004, -18.728) -> (11.4004, -18.7576)
  spline S5 degree 2 poles (11.4004, -18.7576) (11.9441, -18.9059) (12.5423, -19.6919) (12.5423, -20.2752) knots 0 0 0 1 2 2 2
  spline S6 degree 2 poles (11.697, -20.3098) (11.697, -19.9638) (11.4992, -19.5189) (11.2026, -19.3607) knots 0 0 0 1 2 2 2
  spline S7 degree 2 poles (11.2026, -19.3607) (11.0099, -19.2618) (10.5551, -19.2025) (10.1349, -19.2025) knots 0 0 0 1 2 2 2
  line L8 (10.1349, -19.2025) -> (9.2154, -19.2025)
  line L9 (9.2154, -19.2025) -> (9.2154, -21.4566)
  line L10 (9.2154, -21.4566) -> (9.8729, -21.4566)
  spline S8 degree 2 poles (9.8729, -21.4566) (10.4068, -21.4566) (11.0197, -21.3578) (11.257, -21.1996) knots 0 0 0 1 2 2 2
  spline S9 degree 2 poles (11.257, -21.1996) (11.4844, -21.0365) (11.697, -20.6311) (11.697, -20.3098) knots 0 0 0 1 2 2 2
  spline S10 degree 2 poles (11.4103, -17.5366) (11.4103, -17.3191) (11.262, -16.9929) (11.0988, -16.8989) knots 0 0 0 1 2 2 2
  spline S11 degree 2 poles (11.0988, -16.8989) (10.9011, -16.7902) (10.4216, -16.7408) (9.9915, -16.7408) knots 0 0 0 1 2 2 2
  line L11 (9.9915, -16.7408) -> (9.2154, -16.7408)
  line L12 (9.2154, -16.7408) -> (9.2154, -18.5253)
  line L13 (9.2154, -18.5253) -> (10.1349, -18.5253)
  spline S12 degree 2 poles (10.1349, -18.5253) (10.5155, -18.5253) (10.8764, -18.4462) (11.0692, -18.3226) knots 0 0 0 1 2 2 2
  spline S13 degree 2 poles (11.0692, -18.3226) (11.257, -18.204) (11.4103, -17.8233) (11.4103, -17.5366) knots 0 0 0 1 2 2 2
  line L14 (12.6906, -22.1487) -> (14.747, -16.0487)
  line L15 (14.747, -16.0487) -> (15.7455, -16.0487)
  line L16 (15.7455, -16.0487) -> (17.8019, -22.1487)
  line L17 (17.8019, -22.1487) -> (16.9467, -22.1487)
  line L18 (16.9467, -22.1487) -> (16.3931, -20.4433)
  line L19 (16.3931, -20.4433) -> (14.0648, -20.4433)
  line L20 (14.0648, -20.4433) -> (13.5111, -22.1487)
  line L21 (13.5111, -22.1487) -> (12.6906, -22.1487)
  line L22 (16.1706, -19.7512) -> (15.2265, -16.8792)
  line L23 (15.2265, -16.8792) -> (14.2872, -19.7512)
  line L24 (14.2872, -19.7512) -> (16.1706, -19.7512)
  line L25 (20.5059, -22.1487) -> (18.143, -22.1487)
  line L26 (18.143, -22.1487) -> (18.143, -21.5258)
  line L27 (18.143, -21.5258) -> (18.9191, -21.5258)
  line L28 (18.9191, -21.5258) -> (18.9191, -16.6716)
  line L29 (18.9191, -16.6716) -> (18.143, -16.6716)
  line L30 (18.143, -16.6716) -> (18.143, -16.0487)
  line L31 (18.143, -16.0487) -> (20.5059, -16.0487)
  line L32 (20.5059, -16.0487) -> (20.5059, -16.6716)
  line L33 (20.5059, -16.6716) -> (19.7298, -16.6716)
  line L34 (19.7298, -16.6716) -> (19.7298, -21.5258)
  line L35 (19.7298, -21.5258) -> (20.5059, -21.5258)
  line L36 (20.5059, -21.5258) -> (20.5059, -22.1487)
  line L37 (25.726, -22.1487) -> (24.7966, -22.1487)
  line L38 (24.7966, -22.1487) -> (23.3137, -19.7166)
  line L39 (23.3137, -19.7166) -> (21.801, -22.1487)
  line L40 (21.801, -22.1487) -> (20.9261, -22.1487)
  line L41 (20.9261, -22.1487) -> (22.8688, -19.0938)
  line L42 (22.8688, -19.0938) -> (20.9854, -16.0487)
  line L43 (20.9854, -16.0487) -> (21.9147, -16.0487)
  line L44 (21.9147, -16.0487) -> (23.368, -18.4363)
  line L45 (23.368, -18.4363) -> (24.851, -16.0487)
  line L46 (24.851, -16.0487) -> (25.726, -16.0487)
  line L47 (25.726, -16.0487) -> (23.8179, -19.0542)
  line L48 (23.8179, -19.0542) -> (25.726, -22.1487)
  point P0 (-7.1721, -2)
extrude "Extrusión30" cut sketch "Boceto40" against normal blind 0.5
sketch "Boceto41" plane through (8.6721, 1.0003, 0) normal (0, 1, 0) x (1, 0, 0)
  circle A0 centre (15, 56) radius 1.6
  circle A1 centre (15, 23) radius 1.6
  point P0 (-8.6721, 0)
  dimension "d155" = 3.2
  dimension "d156" = 3.2
extrude "Extrusión31" cut sketch "Boceto41" against normal blind 65.25
sketch "Boceto42" plane through (5.1721, 40.2641, -98.2) normal (-1, 0, 0) x (0, 0, 1)
  line L0 (9.7, -39.2638) -> (9.7, -34.2638)
  line L1 (9.7, -34.2638) -> (24.7, -34.2638)
  line L2 (24.7, -34.2638) -> (24.7, -39.2638)
  line L3 (9.7, -39.2638) -> (24.7, -39.2638)
  line L4 (0, -39.2638) -> (98.2, -39.2638) projected
  point P0 (98.2, -40.2641)
  point P1 (17.2, -27.608)
extrude "Extrusión32" cut sketch "Boceto42" against normal blind 6.25
sketch "Boceto43" plane through (5.1721, 40.2641, -98.2) normal (-1, 0, 0) x (0, 0, 1)
  line L0 (21.2, -10.7488) -> (93.2, -10.7488) projected
  line L1 (93.2, -10.7488) -> (40, -10.7488)
  line L2 (40, -10.7488) -> (40, -15.7488)
  line L3 (40, -15.7488) -> (93.2, -15.7488)
  line L4 (93.2, -15.7488) -> (93.2, -10.7488)
  line L5 (93.2, -35) -> (40, -35)
  line L6 (40, -35) -> (40, -30)
  line L7 (40, -30) -> (93.2, -30)
  line L8 (93.2, -30) -> (93.2, -35)
  line L9 (103, -15.7488) -> (118.5563, -15.7488) construction
  point P0 (98.2, -40.2641)
  point P1 (22.2, -10.7488)
  dimension "d164" = 5
  dimension "d165" = 5
sketch "Boceto44" plane through (0, 0, 4) normal (0, 0, 1) x (1, 0, 0)
  line L0 (5.1721, -2) -> (5.1721, 40.2641) projected
  line L1 (5.1721, 19.1321) -> (16, 6.2278)
  line L2 (5.1721, 19.1321) -> (22.0173, 19.1321) construction
  point P0 (0, 0)
  dimension "d167" = 50
sweep "Barrido1" cut profiles "Boceto43" path "Boceto44" path curves L1
sketch "Boceto45" plane through (7.1721, -2, 2) normal (0, -1, 0) x (1, 0, 0)
  line L0 (4.0953, -60.2) -> (8.2908, -60.2)
  line L1 (8.2908, -7) -> (4.0953, -7)
  line L2 (8.2908, -7) -> (0, -7)
  line L3 (0, -7) -> (0, -60.2)
  line L4 (0, -60.2) -> (8.2908, -60.2)
  line L5 (8.2908, -60.2) -> (8.2908, -7)
  point P0 (-7.1721, -2)
extrude "Extrusión33" add sketch "Boceto45" against normal blind 3
ref_plane "Plano de trabajo3" through (6.9221, 1.0003, -88.5) normal (0, 1, 0) x (1, 0, 0)
sketch "Boceto47" plane through (6.9221, 1.0003, -88.5) normal (0, 1, 0) x (1, 0, 0)
  line L0 (-1.75, -92.5) -> (-1.75, 18.7) projected
  line L1 (-1.75, -92.5) -> (35, -92.5)
  line L2 (35, -92.5) -> (35, 18.7)
  line L3 (35, 18.7) -> (-1.75, 18.7)
  line L4 (-1.75, 18.7) -> (-1.75, -92.5)
  point P0 (-6.9221, -88.5)
extrude "Extrusión34" cut sketch "Boceto47" along normal blind 79.25
properties part number "Suport - pantalla i potenciometre tapa"
